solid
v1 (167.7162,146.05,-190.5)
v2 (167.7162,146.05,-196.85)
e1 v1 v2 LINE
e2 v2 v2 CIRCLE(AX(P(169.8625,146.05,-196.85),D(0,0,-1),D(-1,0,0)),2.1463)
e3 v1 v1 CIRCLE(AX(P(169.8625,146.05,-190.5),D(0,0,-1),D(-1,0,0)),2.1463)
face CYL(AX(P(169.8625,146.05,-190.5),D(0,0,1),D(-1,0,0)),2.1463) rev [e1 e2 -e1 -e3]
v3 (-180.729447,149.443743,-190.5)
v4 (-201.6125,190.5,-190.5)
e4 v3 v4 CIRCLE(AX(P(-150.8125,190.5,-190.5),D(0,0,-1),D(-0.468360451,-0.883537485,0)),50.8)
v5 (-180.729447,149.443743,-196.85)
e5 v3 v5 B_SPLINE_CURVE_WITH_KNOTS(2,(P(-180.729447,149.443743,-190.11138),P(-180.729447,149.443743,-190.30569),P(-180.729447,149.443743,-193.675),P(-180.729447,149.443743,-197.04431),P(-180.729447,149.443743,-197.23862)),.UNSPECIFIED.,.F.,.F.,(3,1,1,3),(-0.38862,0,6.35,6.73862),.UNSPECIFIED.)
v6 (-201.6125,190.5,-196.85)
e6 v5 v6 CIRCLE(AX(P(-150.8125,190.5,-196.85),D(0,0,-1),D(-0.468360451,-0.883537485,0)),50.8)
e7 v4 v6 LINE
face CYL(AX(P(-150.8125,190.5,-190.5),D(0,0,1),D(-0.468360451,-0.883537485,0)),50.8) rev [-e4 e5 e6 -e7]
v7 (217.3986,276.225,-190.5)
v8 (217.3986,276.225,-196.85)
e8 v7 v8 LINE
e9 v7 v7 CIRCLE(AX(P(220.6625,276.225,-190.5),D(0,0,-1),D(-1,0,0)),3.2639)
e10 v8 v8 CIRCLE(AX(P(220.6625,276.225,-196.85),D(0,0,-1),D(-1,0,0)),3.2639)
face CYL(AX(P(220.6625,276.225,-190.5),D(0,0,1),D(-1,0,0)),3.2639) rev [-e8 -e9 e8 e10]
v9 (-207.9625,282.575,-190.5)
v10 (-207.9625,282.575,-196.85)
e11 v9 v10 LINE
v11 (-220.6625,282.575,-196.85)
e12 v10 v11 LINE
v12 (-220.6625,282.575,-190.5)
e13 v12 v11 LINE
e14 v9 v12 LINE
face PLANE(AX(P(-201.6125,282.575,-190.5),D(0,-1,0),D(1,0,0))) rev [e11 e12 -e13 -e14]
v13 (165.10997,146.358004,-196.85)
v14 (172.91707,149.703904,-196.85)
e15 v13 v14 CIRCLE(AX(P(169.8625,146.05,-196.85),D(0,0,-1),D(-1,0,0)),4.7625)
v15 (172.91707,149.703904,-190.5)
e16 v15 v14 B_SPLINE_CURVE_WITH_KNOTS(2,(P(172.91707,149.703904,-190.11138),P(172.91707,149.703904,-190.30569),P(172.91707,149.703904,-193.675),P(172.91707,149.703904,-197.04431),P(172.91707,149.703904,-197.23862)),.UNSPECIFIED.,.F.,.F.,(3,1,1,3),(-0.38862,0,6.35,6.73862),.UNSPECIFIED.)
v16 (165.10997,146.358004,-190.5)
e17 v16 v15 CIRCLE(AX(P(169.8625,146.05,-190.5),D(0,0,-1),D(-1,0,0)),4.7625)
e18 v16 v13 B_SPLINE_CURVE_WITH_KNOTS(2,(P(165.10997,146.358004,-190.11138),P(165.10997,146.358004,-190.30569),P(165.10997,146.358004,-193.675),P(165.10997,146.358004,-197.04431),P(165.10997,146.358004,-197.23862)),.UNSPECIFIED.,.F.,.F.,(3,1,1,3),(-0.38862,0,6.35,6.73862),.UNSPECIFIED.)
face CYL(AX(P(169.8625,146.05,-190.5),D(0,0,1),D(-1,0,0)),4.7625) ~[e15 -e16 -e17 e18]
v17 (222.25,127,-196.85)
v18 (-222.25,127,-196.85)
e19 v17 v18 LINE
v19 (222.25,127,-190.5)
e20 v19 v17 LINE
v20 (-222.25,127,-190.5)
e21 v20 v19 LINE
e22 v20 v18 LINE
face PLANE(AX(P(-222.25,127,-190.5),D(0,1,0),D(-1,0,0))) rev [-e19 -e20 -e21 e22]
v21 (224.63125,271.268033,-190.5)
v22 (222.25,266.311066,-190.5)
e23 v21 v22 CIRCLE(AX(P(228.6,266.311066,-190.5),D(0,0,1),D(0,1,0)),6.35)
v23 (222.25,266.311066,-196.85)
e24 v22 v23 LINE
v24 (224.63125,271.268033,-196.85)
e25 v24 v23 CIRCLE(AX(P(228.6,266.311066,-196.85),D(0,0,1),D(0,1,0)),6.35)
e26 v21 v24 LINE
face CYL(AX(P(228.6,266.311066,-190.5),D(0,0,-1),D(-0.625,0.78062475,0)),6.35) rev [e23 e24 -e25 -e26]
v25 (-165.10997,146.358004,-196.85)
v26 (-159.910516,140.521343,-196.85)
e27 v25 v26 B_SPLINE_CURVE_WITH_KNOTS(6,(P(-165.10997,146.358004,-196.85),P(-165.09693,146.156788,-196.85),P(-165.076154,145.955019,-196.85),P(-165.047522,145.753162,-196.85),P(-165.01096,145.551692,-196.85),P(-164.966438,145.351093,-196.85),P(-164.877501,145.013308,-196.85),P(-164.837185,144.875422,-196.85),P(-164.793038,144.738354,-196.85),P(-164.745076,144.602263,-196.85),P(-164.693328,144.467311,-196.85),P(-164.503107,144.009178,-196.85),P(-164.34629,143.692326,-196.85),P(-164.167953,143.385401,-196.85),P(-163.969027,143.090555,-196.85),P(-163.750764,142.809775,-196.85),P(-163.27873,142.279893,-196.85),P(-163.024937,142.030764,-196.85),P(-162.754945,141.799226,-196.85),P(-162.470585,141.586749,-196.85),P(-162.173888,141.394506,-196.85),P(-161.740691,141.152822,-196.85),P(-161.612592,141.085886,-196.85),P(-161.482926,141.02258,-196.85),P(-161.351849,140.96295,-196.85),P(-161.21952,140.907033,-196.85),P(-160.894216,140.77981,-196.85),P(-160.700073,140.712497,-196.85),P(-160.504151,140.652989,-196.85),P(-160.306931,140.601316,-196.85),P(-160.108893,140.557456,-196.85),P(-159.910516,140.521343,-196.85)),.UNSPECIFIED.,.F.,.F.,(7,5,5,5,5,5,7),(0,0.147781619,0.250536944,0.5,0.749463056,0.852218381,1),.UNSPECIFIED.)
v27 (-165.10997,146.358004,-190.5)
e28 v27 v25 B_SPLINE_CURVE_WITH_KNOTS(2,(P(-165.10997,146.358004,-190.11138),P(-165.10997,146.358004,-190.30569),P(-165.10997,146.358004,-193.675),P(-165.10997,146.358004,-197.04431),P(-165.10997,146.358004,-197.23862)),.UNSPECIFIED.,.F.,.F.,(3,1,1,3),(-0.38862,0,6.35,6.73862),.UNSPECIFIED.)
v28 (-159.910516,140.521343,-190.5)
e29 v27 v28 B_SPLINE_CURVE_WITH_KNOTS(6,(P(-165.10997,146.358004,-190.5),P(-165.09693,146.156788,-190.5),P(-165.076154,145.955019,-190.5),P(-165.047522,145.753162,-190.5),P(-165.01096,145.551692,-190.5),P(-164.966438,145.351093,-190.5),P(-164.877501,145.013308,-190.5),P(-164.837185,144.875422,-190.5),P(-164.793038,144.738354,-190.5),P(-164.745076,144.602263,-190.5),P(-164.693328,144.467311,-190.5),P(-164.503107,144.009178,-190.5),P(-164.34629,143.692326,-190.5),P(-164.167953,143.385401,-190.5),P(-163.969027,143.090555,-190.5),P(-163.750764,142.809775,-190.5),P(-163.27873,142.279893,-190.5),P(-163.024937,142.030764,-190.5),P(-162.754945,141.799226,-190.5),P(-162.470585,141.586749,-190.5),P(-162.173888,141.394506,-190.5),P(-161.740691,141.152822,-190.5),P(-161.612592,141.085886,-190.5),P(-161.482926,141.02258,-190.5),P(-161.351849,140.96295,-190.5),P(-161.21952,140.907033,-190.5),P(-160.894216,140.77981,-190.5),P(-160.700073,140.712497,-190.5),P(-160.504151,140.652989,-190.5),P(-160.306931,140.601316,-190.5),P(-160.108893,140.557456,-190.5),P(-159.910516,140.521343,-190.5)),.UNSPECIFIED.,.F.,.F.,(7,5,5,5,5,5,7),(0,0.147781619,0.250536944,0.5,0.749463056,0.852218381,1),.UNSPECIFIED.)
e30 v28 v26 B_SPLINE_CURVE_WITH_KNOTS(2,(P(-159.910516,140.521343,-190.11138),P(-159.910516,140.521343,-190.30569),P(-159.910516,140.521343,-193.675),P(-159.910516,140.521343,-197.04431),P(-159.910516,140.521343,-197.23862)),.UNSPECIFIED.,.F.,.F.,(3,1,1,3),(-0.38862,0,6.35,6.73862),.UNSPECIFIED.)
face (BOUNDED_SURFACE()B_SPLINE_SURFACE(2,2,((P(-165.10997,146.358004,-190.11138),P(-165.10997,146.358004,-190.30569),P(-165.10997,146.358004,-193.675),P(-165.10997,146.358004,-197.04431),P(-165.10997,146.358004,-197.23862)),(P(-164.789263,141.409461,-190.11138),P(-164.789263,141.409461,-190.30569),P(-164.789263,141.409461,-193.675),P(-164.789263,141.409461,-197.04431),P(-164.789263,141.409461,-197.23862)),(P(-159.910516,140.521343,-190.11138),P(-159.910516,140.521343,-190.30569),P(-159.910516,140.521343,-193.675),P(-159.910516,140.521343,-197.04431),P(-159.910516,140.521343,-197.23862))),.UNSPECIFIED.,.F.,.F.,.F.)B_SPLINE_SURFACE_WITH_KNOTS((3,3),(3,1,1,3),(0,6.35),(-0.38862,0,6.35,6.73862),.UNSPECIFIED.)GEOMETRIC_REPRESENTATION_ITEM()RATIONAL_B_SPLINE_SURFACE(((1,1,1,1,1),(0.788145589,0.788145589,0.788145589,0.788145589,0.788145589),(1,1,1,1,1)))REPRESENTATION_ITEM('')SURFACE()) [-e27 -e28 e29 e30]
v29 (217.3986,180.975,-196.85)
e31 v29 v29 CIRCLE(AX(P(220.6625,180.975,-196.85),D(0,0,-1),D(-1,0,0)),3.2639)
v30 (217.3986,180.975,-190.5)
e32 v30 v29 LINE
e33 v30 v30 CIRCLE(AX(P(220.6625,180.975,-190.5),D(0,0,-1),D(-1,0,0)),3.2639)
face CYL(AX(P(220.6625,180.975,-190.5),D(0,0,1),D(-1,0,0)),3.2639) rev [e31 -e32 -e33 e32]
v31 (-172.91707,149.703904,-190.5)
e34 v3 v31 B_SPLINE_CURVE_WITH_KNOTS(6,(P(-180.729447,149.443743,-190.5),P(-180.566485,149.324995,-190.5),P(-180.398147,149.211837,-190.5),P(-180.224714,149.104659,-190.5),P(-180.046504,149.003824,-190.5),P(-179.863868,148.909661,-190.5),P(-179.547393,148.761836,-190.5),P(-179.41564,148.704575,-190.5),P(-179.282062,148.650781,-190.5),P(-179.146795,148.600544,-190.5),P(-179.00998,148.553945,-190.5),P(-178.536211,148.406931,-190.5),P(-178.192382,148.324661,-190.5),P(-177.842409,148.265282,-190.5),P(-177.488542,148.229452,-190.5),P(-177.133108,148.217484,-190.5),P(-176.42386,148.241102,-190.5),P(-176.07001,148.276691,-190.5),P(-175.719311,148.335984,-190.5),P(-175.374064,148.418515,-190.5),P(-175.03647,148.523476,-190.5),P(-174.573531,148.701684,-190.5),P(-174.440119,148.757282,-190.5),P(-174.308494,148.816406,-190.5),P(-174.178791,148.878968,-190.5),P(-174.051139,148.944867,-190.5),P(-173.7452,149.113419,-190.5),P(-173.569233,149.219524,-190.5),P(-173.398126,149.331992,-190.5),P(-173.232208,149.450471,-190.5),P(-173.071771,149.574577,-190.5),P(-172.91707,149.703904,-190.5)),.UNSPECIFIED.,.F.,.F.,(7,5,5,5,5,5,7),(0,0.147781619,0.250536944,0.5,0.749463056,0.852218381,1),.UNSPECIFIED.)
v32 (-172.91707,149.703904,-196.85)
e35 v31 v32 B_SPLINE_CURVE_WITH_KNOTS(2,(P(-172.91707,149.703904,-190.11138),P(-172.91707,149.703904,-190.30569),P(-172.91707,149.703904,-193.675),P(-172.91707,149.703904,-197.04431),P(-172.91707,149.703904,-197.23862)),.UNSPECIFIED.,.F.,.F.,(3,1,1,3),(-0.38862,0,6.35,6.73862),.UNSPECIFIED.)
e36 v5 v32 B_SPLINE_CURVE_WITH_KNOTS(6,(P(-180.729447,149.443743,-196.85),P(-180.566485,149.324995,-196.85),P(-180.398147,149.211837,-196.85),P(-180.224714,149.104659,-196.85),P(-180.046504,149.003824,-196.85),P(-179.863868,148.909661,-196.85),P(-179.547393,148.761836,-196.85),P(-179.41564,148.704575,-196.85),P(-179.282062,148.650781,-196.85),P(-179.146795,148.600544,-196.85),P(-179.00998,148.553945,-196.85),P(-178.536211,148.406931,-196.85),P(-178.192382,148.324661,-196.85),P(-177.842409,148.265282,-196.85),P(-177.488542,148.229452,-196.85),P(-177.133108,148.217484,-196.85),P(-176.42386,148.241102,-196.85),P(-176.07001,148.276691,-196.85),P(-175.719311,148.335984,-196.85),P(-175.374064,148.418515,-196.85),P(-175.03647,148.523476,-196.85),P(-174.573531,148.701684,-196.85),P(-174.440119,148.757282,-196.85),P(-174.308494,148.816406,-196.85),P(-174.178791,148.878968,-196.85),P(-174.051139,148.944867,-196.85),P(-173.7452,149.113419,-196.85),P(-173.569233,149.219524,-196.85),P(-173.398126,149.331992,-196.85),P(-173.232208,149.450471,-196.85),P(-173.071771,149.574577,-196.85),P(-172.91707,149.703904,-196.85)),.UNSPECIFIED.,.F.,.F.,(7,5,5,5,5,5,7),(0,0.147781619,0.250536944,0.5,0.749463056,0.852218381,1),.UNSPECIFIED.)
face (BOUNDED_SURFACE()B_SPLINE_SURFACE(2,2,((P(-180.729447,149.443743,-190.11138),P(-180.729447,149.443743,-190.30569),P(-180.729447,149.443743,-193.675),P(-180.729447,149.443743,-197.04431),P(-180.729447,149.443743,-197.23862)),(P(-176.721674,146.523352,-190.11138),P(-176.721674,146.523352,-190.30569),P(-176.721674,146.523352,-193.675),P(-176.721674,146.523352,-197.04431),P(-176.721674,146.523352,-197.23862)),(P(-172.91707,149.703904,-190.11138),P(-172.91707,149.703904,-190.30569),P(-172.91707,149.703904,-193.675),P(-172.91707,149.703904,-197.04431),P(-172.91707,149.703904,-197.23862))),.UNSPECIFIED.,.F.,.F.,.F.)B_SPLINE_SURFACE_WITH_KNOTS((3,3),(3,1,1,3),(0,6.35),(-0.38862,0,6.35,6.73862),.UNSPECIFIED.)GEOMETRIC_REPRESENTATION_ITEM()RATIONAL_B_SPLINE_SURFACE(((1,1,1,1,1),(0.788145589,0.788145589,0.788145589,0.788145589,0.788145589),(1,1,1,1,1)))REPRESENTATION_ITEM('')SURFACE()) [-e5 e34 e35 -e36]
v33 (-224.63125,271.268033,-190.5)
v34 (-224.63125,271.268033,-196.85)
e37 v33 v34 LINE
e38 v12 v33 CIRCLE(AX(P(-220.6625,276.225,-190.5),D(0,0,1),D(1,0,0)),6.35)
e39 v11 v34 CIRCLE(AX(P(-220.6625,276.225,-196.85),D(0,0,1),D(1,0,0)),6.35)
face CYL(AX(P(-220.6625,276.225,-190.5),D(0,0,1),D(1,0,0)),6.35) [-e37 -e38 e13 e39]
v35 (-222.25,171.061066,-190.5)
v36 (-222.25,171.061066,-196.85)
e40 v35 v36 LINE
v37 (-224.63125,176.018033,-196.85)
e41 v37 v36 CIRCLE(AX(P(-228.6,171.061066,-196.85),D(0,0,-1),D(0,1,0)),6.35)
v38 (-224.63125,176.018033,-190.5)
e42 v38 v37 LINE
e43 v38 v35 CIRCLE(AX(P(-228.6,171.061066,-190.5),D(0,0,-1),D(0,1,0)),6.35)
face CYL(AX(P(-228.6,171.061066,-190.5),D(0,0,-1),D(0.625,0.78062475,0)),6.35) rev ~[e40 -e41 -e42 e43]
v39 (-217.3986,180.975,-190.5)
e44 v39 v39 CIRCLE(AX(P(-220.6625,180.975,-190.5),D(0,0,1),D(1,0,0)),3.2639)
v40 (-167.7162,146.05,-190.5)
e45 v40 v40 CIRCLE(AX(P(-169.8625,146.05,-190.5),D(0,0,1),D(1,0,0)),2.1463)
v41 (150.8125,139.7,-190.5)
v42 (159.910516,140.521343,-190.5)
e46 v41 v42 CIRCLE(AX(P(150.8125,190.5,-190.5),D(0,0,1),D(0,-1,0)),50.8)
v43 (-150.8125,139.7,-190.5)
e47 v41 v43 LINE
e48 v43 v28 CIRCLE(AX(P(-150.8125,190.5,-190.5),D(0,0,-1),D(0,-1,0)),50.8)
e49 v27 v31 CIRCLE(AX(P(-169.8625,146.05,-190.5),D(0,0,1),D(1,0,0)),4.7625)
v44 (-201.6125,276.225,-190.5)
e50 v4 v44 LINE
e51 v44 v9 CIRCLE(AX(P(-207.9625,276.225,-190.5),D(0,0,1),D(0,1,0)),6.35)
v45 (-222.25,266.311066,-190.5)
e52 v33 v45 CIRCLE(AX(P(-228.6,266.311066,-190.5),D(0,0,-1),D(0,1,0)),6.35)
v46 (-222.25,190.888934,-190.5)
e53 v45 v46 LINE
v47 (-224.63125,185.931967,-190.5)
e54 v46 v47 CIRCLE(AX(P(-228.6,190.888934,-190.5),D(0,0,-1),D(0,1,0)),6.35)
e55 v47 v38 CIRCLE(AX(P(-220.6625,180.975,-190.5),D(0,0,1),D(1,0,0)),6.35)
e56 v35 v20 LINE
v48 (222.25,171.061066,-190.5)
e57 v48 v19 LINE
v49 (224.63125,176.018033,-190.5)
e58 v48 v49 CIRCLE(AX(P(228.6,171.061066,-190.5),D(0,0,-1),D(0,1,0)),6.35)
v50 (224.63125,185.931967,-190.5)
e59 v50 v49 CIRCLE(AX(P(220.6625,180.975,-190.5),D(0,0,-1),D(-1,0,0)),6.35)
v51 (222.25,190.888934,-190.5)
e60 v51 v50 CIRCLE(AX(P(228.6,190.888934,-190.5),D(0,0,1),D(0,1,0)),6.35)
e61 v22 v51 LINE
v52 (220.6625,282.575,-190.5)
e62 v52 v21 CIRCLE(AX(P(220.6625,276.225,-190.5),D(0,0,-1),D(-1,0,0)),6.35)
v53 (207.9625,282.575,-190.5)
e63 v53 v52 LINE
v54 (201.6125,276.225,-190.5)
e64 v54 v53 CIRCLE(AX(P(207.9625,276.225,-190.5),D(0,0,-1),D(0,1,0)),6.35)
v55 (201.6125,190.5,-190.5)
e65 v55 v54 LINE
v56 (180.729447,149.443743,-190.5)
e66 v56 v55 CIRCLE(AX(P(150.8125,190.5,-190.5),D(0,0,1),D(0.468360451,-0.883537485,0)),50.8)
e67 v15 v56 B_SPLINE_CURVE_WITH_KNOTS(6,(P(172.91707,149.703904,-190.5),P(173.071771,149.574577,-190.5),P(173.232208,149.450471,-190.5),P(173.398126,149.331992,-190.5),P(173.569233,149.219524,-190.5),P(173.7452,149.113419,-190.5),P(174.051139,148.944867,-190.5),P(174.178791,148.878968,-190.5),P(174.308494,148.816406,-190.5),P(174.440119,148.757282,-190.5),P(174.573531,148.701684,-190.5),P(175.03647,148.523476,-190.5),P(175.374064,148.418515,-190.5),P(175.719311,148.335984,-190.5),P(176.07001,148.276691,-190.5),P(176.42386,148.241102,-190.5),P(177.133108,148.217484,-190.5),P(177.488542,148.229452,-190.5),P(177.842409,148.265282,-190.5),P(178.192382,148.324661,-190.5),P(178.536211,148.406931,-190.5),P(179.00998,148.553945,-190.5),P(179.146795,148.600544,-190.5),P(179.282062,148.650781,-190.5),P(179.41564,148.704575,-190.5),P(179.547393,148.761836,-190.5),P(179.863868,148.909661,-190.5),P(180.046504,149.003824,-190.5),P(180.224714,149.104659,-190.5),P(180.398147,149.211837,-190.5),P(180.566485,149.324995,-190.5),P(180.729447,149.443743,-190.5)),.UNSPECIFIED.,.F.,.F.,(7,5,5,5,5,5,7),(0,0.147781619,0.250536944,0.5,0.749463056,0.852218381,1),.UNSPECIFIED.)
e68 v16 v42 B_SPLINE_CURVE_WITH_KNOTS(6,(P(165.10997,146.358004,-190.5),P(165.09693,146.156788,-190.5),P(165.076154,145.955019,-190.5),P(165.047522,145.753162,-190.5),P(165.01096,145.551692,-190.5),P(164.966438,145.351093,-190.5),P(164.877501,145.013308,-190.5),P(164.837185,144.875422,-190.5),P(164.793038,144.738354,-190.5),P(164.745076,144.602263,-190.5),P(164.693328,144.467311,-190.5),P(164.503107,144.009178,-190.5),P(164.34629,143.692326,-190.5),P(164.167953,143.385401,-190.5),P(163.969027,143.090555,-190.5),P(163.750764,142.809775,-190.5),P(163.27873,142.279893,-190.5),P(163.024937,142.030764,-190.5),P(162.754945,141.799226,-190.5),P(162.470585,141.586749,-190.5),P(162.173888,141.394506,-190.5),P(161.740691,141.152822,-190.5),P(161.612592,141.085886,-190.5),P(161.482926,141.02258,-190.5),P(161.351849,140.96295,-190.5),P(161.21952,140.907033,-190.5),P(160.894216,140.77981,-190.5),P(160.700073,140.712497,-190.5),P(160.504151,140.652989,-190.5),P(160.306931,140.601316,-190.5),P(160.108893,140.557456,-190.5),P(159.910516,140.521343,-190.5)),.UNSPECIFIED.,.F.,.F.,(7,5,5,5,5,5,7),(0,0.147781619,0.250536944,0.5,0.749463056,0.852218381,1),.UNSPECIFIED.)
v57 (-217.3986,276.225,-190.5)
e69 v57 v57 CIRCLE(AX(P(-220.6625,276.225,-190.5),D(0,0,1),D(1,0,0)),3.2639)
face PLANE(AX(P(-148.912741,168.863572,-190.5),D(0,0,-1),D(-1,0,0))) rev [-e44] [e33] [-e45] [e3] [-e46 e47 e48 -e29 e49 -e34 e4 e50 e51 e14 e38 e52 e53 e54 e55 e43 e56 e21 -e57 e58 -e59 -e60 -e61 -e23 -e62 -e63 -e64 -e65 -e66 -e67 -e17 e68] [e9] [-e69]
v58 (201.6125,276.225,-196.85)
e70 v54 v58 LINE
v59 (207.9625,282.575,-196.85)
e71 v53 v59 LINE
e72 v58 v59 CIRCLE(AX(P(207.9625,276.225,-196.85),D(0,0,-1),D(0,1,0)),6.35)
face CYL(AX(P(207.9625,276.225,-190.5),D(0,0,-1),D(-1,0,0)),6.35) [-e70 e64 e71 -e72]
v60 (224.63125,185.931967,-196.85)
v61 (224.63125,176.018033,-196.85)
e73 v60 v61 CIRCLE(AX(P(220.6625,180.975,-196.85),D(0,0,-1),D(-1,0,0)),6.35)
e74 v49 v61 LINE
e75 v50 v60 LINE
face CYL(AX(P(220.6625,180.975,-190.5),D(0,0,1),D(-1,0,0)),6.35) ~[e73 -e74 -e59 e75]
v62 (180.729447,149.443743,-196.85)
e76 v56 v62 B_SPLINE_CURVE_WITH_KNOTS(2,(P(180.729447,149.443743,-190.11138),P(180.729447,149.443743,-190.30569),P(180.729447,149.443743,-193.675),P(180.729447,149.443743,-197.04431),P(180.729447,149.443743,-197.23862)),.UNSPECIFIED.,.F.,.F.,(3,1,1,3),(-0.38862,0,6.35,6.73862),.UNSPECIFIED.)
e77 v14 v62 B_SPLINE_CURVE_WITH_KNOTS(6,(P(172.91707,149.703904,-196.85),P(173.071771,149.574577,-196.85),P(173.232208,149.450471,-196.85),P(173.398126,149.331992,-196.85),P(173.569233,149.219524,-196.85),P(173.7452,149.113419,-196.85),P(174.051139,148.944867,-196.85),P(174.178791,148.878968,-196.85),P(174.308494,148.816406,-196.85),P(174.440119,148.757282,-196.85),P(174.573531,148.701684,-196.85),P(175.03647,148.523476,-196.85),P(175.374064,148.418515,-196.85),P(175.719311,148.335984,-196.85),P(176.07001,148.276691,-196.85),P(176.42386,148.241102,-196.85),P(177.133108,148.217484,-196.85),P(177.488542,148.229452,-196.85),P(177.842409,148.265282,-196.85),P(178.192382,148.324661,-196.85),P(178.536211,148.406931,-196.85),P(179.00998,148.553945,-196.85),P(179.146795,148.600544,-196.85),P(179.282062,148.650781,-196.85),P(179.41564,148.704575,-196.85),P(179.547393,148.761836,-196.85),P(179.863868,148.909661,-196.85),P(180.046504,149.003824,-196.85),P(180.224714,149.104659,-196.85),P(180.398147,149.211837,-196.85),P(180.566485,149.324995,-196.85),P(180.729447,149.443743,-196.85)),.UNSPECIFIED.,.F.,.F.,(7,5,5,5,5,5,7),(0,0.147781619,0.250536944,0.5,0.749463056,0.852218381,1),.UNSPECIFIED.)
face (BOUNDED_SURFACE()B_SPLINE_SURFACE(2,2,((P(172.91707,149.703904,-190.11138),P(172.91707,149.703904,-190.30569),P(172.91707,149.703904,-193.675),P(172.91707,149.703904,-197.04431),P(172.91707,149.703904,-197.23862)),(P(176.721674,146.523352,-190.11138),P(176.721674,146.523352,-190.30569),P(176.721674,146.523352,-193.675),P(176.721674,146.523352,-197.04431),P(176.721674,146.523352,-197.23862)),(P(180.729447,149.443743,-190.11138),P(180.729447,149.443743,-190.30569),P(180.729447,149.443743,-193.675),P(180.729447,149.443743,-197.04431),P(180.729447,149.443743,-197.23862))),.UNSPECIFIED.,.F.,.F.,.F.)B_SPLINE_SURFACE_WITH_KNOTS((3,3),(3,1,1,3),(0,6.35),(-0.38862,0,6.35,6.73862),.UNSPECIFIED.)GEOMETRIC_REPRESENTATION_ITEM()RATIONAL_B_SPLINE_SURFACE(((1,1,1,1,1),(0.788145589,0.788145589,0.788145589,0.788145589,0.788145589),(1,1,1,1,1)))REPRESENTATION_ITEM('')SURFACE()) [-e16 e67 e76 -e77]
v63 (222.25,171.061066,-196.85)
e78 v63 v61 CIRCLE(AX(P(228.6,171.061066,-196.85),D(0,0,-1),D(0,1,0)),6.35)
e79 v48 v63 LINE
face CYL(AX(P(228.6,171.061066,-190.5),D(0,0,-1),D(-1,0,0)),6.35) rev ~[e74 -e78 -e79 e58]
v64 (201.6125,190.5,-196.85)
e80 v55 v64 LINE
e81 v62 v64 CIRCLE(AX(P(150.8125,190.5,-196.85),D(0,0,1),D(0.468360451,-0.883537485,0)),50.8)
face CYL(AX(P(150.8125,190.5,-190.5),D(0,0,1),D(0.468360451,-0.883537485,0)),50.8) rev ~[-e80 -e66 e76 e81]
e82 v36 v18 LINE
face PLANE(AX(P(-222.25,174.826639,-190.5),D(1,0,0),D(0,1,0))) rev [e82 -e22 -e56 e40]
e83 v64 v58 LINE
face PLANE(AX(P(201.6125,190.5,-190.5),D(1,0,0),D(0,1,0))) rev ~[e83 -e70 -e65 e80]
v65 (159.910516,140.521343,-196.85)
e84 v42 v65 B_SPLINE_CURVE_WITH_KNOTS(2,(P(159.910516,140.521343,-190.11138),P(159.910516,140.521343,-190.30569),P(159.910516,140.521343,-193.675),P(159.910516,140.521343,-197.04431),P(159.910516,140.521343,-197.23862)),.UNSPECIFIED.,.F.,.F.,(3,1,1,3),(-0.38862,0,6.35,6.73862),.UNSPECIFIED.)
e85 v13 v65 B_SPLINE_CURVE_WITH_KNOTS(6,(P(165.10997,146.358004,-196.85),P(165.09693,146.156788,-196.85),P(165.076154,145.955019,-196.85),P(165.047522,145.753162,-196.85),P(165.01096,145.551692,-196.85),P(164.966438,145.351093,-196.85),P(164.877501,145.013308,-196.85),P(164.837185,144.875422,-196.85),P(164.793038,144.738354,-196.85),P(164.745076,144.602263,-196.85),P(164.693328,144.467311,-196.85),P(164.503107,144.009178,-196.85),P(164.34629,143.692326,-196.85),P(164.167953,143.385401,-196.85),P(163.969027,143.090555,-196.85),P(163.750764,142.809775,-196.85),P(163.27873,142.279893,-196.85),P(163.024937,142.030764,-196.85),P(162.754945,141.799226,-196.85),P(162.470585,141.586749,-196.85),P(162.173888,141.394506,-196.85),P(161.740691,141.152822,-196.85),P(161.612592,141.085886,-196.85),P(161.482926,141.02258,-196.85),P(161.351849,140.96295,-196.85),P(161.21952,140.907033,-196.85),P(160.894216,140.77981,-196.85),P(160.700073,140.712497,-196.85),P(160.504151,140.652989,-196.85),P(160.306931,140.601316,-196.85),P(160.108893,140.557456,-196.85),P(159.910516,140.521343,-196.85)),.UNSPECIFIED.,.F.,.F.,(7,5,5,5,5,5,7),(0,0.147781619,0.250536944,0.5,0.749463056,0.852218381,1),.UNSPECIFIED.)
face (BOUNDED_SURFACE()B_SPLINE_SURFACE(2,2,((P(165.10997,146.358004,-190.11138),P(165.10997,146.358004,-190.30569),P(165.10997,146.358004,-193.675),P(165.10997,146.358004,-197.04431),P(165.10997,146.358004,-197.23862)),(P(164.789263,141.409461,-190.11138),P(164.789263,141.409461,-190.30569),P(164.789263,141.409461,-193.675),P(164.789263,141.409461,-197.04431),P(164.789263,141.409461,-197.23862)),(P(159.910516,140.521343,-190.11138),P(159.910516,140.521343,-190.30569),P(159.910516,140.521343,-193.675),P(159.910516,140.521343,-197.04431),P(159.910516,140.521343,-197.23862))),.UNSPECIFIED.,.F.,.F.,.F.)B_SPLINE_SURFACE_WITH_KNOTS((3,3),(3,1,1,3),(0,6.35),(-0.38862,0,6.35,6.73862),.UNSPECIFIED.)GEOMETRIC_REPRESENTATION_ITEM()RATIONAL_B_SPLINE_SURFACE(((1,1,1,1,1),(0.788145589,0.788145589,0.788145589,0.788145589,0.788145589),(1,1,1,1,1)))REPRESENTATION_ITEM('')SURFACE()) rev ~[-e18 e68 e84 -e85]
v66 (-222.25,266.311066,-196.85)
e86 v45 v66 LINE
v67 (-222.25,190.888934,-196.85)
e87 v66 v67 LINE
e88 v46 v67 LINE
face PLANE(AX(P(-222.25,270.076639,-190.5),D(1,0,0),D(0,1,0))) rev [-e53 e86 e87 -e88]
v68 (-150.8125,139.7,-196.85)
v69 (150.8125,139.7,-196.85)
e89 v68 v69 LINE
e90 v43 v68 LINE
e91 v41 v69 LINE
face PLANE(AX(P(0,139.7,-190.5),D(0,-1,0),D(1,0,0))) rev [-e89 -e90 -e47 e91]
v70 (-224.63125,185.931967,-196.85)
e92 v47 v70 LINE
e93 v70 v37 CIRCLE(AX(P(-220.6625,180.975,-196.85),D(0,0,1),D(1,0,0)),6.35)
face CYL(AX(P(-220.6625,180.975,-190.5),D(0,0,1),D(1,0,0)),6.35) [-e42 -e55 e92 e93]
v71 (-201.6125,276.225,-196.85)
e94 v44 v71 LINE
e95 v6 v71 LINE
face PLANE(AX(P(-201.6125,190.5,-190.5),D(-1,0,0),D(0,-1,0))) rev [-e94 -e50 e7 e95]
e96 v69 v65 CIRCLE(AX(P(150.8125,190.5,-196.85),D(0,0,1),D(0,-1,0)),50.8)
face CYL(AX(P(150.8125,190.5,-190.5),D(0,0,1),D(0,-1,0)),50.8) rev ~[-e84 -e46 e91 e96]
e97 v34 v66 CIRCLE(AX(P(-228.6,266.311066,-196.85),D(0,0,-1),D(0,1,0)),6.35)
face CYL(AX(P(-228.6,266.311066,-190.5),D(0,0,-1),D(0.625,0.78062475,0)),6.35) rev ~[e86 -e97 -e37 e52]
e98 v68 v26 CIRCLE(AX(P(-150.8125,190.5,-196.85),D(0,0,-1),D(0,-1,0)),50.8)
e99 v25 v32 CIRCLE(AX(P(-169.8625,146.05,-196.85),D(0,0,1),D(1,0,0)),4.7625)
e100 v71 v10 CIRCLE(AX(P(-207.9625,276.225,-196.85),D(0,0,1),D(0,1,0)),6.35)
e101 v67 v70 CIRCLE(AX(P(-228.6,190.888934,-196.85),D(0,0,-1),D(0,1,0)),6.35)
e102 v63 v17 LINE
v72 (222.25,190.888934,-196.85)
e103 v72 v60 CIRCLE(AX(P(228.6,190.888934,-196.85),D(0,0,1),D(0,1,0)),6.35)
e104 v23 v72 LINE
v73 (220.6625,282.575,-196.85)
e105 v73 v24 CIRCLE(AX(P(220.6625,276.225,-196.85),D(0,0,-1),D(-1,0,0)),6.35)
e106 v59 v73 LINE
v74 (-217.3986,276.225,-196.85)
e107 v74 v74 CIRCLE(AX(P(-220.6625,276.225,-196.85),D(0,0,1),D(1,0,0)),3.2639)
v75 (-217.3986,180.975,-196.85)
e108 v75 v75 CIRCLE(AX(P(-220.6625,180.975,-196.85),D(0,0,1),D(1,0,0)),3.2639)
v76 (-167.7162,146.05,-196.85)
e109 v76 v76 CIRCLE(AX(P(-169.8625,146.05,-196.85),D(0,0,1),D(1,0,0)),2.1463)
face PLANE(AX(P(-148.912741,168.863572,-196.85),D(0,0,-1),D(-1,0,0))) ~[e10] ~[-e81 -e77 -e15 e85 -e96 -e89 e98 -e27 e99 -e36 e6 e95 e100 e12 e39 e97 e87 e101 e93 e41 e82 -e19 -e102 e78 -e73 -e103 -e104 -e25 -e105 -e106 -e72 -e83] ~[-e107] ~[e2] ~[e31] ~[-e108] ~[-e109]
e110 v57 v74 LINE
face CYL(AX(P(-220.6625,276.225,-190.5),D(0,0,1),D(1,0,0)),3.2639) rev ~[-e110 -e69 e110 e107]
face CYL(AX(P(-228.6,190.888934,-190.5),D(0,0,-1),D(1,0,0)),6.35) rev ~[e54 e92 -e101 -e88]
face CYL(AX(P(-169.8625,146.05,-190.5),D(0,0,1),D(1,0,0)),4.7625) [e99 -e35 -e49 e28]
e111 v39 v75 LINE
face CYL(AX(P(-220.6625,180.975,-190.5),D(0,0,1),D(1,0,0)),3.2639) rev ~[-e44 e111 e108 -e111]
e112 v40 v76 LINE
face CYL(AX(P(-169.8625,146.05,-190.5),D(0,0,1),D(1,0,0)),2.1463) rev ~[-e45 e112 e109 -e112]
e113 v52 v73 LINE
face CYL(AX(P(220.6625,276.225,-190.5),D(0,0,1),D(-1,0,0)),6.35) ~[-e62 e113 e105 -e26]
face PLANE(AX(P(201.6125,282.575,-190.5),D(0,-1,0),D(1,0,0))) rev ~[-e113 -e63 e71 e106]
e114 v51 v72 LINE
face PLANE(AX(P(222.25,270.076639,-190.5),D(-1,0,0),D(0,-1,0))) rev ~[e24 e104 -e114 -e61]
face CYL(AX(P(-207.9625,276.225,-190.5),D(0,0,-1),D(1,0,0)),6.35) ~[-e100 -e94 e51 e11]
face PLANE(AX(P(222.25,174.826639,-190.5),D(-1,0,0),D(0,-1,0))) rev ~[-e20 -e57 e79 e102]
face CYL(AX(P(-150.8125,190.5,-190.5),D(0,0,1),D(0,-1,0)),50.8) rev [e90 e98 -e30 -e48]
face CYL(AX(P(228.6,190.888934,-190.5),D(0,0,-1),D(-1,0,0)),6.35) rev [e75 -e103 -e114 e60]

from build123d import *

# Parameters (mm, degrees)
SKETCH1_R            = 6.35
SKETCH1_R_2          = 3.2639
SKETCH1_R_3          = 2.1463
BOSS_EXTRUDE1_DEPTH  = 6.35
FILLET1_R            = 6.35
FILLET2_R            = 6.35
FILLET1_OF_MIRROR1_R = 6.35
FILLET2_OF_MIRROR1_R = 6.35


with BuildPart() as part:
    # Sketch1 → Boss-Extrude1 (new body)
    # profile 1 of 5: a face of its own
    with BuildSketch(Plane(origin=(0, 0, -190.5), x_dir=(-1, 0, 0), z_dir=(0, 0, -1))):
        with BuildLine():
            Line((-222.25, 270.076638938), (-222.25, 187.123361062))
            ThreePointArc((-222.25, 187.123361062), (-216.773935033, 185.995115786), (-214.3125, 180.975))
            ThreePointArc((-214.3125, 180.975), (-216.773935033, 175.954884214), (-222.25, 174.826638938))
            Line((-222.25, 174.826638938), (-222.25, 127))
            Line((-222.25, 127), (0, 127))
            Line((0, 127), (0, 139.7))
            Line((0, 139.7), (-150.8125, 139.7))
            ThreePointArc((-150.8125, 139.7), (-158.964771181, 140.358395772), (-166.90572658, 142.316516748))
            ThreePointArc((-166.90572658, 142.316516748), (-171.738540659, 141.672571795), (-174.60521092, 145.616295752))
            ThreePointArc((-174.60521092, 145.616295752), (-194.340133262, 164.308681923), (-201.6125, 190.5))
            Line((-201.6125, 190.5), (-201.6125, 282.575))
            Line((-201.6125, 282.575), (-220.6625, 282.575))
            ThreePointArc((-220.6625, 282.575), (-216.172371939, 280.715128061), (-214.3125, 276.225))
            ThreePointArc((-214.3125, 276.225), (-216.773935033, 271.204884214), (-222.25, 270.076638938))
        make_face()
    # profile 2 of 5: a face of its own
    with BuildSketch(Plane(origin=(0, 0, -190.5), x_dir=(-1, 0, 0), z_dir=(0, 0, -1))):
        with Locations((-220.6625, 276.225)):
            Circle(SKETCH1_R)
        with Locations((-220.6625, 276.225)):
            Circle(SKETCH1_R_2, mode=Mode.SUBTRACT)
    # profile 3 of 5: a face of its own
    with BuildSketch(Plane(origin=(0, 0, -190.5), x_dir=(-1, 0, 0), z_dir=(0, 0, -1))):
        with Locations((-220.6625, 180.975)):
            Circle(SKETCH1_R)
        with Locations((-220.6625, 180.975)):
            Circle(SKETCH1_R_2, mode=Mode.SUBTRACT)
    # profile 4 of 5: a face of its own
    with BuildSketch(Plane(origin=(0, 0, -190.5), x_dir=(-1, 0, 0), z_dir=(0, 0, -1))):
        with BuildLine():
            ThreePointArc((-165.1, 146.05), (-170.079577741, 150.807550158), (-174.60521092, 145.616295752))
            ThreePointArc((-174.60521092, 145.616295752), (-170.823600368, 143.807432475), (-166.90572658, 142.316516748))
            ThreePointArc((-166.90572658, 142.316516748), (-165.575132529, 143.976383252), (-165.1, 146.05))
        make_face()
        with Locations((-169.8625, 146.05)):
            Circle(SKETCH1_R_3, mode=Mode.SUBTRACT)
    # profile 5 of 5: a face of its own
    with BuildSketch(Plane(origin=(0, 0, -190.5), x_dir=(-1, 0, 0), z_dir=(0, 0, -1))):
        with BuildLine():
            ThreePointArc((-166.90572658, 142.316516748), (-170.823600368, 143.807432475), (-174.60521092, 145.616295752))
            ThreePointArc((-174.60521092, 145.616295752), (-171.738540659, 141.672571795), (-166.90572658, 142.316516748))
        make_face()
    boss_extrude1 = extrude(amount=BOSS_EXTRUDE1_DEPTH)

    # Fillet1
    fillet1_edges = [part.edges().sort_by_distance(p)[0] for p in [
        (174.60521092, 145.616295752, -193.675),
        (166.90572658, 142.316516748, -193.675),
    ]]
    fillet(fillet1_edges, radius=FILLET1_R)

    # Fillet2
    fillet2_edges = [part.edges().sort_by_distance(p)[0] for p in [
        (222.25, 174.826638938, -193.675),
        (222.25, 187.123361062, -193.675),
        (222.25, 270.076638938, -193.675),
        (201.6125, 282.575, -193.675),
    ]]
    fillet(fillet2_edges, radius=FILLET2_R)

    # Mirror1: Boss-Extrude1 across plane
    add(boss_extrude1.mirror(Plane(origin=(0, 0, 0), x_dir=(0, 0, 1), z_dir=(1, 0, 0))))

    # Fillet1 of Mirror1
    fillet1_of_mirror1_edges = [part.edges().sort_by_distance(p)[0] for p in [
        (-174.60521092, 145.616295752, -193.675),
        (-166.90572658, 142.316516748, -193.675),
    ]]
    fillet(fillet1_of_mirror1_edges, radius=FILLET1_OF_MIRROR1_R)

    # Fillet2 of Mirror1
    fillet2_of_mirror1_edges = [part.edges().sort_by_distance(p)[0] for p in [
        (-222.25, 174.826638938, -193.675),
        (-222.25, 187.123361062, -193.675),
        (-222.25, 270.076638938, -193.675),
        (-201.6125, 282.575, -193.675),
    ]]
    fillet(fillet2_of_mirror1_edges, radius=FILLET2_OF_MIRROR1_R)


solid = part.part
